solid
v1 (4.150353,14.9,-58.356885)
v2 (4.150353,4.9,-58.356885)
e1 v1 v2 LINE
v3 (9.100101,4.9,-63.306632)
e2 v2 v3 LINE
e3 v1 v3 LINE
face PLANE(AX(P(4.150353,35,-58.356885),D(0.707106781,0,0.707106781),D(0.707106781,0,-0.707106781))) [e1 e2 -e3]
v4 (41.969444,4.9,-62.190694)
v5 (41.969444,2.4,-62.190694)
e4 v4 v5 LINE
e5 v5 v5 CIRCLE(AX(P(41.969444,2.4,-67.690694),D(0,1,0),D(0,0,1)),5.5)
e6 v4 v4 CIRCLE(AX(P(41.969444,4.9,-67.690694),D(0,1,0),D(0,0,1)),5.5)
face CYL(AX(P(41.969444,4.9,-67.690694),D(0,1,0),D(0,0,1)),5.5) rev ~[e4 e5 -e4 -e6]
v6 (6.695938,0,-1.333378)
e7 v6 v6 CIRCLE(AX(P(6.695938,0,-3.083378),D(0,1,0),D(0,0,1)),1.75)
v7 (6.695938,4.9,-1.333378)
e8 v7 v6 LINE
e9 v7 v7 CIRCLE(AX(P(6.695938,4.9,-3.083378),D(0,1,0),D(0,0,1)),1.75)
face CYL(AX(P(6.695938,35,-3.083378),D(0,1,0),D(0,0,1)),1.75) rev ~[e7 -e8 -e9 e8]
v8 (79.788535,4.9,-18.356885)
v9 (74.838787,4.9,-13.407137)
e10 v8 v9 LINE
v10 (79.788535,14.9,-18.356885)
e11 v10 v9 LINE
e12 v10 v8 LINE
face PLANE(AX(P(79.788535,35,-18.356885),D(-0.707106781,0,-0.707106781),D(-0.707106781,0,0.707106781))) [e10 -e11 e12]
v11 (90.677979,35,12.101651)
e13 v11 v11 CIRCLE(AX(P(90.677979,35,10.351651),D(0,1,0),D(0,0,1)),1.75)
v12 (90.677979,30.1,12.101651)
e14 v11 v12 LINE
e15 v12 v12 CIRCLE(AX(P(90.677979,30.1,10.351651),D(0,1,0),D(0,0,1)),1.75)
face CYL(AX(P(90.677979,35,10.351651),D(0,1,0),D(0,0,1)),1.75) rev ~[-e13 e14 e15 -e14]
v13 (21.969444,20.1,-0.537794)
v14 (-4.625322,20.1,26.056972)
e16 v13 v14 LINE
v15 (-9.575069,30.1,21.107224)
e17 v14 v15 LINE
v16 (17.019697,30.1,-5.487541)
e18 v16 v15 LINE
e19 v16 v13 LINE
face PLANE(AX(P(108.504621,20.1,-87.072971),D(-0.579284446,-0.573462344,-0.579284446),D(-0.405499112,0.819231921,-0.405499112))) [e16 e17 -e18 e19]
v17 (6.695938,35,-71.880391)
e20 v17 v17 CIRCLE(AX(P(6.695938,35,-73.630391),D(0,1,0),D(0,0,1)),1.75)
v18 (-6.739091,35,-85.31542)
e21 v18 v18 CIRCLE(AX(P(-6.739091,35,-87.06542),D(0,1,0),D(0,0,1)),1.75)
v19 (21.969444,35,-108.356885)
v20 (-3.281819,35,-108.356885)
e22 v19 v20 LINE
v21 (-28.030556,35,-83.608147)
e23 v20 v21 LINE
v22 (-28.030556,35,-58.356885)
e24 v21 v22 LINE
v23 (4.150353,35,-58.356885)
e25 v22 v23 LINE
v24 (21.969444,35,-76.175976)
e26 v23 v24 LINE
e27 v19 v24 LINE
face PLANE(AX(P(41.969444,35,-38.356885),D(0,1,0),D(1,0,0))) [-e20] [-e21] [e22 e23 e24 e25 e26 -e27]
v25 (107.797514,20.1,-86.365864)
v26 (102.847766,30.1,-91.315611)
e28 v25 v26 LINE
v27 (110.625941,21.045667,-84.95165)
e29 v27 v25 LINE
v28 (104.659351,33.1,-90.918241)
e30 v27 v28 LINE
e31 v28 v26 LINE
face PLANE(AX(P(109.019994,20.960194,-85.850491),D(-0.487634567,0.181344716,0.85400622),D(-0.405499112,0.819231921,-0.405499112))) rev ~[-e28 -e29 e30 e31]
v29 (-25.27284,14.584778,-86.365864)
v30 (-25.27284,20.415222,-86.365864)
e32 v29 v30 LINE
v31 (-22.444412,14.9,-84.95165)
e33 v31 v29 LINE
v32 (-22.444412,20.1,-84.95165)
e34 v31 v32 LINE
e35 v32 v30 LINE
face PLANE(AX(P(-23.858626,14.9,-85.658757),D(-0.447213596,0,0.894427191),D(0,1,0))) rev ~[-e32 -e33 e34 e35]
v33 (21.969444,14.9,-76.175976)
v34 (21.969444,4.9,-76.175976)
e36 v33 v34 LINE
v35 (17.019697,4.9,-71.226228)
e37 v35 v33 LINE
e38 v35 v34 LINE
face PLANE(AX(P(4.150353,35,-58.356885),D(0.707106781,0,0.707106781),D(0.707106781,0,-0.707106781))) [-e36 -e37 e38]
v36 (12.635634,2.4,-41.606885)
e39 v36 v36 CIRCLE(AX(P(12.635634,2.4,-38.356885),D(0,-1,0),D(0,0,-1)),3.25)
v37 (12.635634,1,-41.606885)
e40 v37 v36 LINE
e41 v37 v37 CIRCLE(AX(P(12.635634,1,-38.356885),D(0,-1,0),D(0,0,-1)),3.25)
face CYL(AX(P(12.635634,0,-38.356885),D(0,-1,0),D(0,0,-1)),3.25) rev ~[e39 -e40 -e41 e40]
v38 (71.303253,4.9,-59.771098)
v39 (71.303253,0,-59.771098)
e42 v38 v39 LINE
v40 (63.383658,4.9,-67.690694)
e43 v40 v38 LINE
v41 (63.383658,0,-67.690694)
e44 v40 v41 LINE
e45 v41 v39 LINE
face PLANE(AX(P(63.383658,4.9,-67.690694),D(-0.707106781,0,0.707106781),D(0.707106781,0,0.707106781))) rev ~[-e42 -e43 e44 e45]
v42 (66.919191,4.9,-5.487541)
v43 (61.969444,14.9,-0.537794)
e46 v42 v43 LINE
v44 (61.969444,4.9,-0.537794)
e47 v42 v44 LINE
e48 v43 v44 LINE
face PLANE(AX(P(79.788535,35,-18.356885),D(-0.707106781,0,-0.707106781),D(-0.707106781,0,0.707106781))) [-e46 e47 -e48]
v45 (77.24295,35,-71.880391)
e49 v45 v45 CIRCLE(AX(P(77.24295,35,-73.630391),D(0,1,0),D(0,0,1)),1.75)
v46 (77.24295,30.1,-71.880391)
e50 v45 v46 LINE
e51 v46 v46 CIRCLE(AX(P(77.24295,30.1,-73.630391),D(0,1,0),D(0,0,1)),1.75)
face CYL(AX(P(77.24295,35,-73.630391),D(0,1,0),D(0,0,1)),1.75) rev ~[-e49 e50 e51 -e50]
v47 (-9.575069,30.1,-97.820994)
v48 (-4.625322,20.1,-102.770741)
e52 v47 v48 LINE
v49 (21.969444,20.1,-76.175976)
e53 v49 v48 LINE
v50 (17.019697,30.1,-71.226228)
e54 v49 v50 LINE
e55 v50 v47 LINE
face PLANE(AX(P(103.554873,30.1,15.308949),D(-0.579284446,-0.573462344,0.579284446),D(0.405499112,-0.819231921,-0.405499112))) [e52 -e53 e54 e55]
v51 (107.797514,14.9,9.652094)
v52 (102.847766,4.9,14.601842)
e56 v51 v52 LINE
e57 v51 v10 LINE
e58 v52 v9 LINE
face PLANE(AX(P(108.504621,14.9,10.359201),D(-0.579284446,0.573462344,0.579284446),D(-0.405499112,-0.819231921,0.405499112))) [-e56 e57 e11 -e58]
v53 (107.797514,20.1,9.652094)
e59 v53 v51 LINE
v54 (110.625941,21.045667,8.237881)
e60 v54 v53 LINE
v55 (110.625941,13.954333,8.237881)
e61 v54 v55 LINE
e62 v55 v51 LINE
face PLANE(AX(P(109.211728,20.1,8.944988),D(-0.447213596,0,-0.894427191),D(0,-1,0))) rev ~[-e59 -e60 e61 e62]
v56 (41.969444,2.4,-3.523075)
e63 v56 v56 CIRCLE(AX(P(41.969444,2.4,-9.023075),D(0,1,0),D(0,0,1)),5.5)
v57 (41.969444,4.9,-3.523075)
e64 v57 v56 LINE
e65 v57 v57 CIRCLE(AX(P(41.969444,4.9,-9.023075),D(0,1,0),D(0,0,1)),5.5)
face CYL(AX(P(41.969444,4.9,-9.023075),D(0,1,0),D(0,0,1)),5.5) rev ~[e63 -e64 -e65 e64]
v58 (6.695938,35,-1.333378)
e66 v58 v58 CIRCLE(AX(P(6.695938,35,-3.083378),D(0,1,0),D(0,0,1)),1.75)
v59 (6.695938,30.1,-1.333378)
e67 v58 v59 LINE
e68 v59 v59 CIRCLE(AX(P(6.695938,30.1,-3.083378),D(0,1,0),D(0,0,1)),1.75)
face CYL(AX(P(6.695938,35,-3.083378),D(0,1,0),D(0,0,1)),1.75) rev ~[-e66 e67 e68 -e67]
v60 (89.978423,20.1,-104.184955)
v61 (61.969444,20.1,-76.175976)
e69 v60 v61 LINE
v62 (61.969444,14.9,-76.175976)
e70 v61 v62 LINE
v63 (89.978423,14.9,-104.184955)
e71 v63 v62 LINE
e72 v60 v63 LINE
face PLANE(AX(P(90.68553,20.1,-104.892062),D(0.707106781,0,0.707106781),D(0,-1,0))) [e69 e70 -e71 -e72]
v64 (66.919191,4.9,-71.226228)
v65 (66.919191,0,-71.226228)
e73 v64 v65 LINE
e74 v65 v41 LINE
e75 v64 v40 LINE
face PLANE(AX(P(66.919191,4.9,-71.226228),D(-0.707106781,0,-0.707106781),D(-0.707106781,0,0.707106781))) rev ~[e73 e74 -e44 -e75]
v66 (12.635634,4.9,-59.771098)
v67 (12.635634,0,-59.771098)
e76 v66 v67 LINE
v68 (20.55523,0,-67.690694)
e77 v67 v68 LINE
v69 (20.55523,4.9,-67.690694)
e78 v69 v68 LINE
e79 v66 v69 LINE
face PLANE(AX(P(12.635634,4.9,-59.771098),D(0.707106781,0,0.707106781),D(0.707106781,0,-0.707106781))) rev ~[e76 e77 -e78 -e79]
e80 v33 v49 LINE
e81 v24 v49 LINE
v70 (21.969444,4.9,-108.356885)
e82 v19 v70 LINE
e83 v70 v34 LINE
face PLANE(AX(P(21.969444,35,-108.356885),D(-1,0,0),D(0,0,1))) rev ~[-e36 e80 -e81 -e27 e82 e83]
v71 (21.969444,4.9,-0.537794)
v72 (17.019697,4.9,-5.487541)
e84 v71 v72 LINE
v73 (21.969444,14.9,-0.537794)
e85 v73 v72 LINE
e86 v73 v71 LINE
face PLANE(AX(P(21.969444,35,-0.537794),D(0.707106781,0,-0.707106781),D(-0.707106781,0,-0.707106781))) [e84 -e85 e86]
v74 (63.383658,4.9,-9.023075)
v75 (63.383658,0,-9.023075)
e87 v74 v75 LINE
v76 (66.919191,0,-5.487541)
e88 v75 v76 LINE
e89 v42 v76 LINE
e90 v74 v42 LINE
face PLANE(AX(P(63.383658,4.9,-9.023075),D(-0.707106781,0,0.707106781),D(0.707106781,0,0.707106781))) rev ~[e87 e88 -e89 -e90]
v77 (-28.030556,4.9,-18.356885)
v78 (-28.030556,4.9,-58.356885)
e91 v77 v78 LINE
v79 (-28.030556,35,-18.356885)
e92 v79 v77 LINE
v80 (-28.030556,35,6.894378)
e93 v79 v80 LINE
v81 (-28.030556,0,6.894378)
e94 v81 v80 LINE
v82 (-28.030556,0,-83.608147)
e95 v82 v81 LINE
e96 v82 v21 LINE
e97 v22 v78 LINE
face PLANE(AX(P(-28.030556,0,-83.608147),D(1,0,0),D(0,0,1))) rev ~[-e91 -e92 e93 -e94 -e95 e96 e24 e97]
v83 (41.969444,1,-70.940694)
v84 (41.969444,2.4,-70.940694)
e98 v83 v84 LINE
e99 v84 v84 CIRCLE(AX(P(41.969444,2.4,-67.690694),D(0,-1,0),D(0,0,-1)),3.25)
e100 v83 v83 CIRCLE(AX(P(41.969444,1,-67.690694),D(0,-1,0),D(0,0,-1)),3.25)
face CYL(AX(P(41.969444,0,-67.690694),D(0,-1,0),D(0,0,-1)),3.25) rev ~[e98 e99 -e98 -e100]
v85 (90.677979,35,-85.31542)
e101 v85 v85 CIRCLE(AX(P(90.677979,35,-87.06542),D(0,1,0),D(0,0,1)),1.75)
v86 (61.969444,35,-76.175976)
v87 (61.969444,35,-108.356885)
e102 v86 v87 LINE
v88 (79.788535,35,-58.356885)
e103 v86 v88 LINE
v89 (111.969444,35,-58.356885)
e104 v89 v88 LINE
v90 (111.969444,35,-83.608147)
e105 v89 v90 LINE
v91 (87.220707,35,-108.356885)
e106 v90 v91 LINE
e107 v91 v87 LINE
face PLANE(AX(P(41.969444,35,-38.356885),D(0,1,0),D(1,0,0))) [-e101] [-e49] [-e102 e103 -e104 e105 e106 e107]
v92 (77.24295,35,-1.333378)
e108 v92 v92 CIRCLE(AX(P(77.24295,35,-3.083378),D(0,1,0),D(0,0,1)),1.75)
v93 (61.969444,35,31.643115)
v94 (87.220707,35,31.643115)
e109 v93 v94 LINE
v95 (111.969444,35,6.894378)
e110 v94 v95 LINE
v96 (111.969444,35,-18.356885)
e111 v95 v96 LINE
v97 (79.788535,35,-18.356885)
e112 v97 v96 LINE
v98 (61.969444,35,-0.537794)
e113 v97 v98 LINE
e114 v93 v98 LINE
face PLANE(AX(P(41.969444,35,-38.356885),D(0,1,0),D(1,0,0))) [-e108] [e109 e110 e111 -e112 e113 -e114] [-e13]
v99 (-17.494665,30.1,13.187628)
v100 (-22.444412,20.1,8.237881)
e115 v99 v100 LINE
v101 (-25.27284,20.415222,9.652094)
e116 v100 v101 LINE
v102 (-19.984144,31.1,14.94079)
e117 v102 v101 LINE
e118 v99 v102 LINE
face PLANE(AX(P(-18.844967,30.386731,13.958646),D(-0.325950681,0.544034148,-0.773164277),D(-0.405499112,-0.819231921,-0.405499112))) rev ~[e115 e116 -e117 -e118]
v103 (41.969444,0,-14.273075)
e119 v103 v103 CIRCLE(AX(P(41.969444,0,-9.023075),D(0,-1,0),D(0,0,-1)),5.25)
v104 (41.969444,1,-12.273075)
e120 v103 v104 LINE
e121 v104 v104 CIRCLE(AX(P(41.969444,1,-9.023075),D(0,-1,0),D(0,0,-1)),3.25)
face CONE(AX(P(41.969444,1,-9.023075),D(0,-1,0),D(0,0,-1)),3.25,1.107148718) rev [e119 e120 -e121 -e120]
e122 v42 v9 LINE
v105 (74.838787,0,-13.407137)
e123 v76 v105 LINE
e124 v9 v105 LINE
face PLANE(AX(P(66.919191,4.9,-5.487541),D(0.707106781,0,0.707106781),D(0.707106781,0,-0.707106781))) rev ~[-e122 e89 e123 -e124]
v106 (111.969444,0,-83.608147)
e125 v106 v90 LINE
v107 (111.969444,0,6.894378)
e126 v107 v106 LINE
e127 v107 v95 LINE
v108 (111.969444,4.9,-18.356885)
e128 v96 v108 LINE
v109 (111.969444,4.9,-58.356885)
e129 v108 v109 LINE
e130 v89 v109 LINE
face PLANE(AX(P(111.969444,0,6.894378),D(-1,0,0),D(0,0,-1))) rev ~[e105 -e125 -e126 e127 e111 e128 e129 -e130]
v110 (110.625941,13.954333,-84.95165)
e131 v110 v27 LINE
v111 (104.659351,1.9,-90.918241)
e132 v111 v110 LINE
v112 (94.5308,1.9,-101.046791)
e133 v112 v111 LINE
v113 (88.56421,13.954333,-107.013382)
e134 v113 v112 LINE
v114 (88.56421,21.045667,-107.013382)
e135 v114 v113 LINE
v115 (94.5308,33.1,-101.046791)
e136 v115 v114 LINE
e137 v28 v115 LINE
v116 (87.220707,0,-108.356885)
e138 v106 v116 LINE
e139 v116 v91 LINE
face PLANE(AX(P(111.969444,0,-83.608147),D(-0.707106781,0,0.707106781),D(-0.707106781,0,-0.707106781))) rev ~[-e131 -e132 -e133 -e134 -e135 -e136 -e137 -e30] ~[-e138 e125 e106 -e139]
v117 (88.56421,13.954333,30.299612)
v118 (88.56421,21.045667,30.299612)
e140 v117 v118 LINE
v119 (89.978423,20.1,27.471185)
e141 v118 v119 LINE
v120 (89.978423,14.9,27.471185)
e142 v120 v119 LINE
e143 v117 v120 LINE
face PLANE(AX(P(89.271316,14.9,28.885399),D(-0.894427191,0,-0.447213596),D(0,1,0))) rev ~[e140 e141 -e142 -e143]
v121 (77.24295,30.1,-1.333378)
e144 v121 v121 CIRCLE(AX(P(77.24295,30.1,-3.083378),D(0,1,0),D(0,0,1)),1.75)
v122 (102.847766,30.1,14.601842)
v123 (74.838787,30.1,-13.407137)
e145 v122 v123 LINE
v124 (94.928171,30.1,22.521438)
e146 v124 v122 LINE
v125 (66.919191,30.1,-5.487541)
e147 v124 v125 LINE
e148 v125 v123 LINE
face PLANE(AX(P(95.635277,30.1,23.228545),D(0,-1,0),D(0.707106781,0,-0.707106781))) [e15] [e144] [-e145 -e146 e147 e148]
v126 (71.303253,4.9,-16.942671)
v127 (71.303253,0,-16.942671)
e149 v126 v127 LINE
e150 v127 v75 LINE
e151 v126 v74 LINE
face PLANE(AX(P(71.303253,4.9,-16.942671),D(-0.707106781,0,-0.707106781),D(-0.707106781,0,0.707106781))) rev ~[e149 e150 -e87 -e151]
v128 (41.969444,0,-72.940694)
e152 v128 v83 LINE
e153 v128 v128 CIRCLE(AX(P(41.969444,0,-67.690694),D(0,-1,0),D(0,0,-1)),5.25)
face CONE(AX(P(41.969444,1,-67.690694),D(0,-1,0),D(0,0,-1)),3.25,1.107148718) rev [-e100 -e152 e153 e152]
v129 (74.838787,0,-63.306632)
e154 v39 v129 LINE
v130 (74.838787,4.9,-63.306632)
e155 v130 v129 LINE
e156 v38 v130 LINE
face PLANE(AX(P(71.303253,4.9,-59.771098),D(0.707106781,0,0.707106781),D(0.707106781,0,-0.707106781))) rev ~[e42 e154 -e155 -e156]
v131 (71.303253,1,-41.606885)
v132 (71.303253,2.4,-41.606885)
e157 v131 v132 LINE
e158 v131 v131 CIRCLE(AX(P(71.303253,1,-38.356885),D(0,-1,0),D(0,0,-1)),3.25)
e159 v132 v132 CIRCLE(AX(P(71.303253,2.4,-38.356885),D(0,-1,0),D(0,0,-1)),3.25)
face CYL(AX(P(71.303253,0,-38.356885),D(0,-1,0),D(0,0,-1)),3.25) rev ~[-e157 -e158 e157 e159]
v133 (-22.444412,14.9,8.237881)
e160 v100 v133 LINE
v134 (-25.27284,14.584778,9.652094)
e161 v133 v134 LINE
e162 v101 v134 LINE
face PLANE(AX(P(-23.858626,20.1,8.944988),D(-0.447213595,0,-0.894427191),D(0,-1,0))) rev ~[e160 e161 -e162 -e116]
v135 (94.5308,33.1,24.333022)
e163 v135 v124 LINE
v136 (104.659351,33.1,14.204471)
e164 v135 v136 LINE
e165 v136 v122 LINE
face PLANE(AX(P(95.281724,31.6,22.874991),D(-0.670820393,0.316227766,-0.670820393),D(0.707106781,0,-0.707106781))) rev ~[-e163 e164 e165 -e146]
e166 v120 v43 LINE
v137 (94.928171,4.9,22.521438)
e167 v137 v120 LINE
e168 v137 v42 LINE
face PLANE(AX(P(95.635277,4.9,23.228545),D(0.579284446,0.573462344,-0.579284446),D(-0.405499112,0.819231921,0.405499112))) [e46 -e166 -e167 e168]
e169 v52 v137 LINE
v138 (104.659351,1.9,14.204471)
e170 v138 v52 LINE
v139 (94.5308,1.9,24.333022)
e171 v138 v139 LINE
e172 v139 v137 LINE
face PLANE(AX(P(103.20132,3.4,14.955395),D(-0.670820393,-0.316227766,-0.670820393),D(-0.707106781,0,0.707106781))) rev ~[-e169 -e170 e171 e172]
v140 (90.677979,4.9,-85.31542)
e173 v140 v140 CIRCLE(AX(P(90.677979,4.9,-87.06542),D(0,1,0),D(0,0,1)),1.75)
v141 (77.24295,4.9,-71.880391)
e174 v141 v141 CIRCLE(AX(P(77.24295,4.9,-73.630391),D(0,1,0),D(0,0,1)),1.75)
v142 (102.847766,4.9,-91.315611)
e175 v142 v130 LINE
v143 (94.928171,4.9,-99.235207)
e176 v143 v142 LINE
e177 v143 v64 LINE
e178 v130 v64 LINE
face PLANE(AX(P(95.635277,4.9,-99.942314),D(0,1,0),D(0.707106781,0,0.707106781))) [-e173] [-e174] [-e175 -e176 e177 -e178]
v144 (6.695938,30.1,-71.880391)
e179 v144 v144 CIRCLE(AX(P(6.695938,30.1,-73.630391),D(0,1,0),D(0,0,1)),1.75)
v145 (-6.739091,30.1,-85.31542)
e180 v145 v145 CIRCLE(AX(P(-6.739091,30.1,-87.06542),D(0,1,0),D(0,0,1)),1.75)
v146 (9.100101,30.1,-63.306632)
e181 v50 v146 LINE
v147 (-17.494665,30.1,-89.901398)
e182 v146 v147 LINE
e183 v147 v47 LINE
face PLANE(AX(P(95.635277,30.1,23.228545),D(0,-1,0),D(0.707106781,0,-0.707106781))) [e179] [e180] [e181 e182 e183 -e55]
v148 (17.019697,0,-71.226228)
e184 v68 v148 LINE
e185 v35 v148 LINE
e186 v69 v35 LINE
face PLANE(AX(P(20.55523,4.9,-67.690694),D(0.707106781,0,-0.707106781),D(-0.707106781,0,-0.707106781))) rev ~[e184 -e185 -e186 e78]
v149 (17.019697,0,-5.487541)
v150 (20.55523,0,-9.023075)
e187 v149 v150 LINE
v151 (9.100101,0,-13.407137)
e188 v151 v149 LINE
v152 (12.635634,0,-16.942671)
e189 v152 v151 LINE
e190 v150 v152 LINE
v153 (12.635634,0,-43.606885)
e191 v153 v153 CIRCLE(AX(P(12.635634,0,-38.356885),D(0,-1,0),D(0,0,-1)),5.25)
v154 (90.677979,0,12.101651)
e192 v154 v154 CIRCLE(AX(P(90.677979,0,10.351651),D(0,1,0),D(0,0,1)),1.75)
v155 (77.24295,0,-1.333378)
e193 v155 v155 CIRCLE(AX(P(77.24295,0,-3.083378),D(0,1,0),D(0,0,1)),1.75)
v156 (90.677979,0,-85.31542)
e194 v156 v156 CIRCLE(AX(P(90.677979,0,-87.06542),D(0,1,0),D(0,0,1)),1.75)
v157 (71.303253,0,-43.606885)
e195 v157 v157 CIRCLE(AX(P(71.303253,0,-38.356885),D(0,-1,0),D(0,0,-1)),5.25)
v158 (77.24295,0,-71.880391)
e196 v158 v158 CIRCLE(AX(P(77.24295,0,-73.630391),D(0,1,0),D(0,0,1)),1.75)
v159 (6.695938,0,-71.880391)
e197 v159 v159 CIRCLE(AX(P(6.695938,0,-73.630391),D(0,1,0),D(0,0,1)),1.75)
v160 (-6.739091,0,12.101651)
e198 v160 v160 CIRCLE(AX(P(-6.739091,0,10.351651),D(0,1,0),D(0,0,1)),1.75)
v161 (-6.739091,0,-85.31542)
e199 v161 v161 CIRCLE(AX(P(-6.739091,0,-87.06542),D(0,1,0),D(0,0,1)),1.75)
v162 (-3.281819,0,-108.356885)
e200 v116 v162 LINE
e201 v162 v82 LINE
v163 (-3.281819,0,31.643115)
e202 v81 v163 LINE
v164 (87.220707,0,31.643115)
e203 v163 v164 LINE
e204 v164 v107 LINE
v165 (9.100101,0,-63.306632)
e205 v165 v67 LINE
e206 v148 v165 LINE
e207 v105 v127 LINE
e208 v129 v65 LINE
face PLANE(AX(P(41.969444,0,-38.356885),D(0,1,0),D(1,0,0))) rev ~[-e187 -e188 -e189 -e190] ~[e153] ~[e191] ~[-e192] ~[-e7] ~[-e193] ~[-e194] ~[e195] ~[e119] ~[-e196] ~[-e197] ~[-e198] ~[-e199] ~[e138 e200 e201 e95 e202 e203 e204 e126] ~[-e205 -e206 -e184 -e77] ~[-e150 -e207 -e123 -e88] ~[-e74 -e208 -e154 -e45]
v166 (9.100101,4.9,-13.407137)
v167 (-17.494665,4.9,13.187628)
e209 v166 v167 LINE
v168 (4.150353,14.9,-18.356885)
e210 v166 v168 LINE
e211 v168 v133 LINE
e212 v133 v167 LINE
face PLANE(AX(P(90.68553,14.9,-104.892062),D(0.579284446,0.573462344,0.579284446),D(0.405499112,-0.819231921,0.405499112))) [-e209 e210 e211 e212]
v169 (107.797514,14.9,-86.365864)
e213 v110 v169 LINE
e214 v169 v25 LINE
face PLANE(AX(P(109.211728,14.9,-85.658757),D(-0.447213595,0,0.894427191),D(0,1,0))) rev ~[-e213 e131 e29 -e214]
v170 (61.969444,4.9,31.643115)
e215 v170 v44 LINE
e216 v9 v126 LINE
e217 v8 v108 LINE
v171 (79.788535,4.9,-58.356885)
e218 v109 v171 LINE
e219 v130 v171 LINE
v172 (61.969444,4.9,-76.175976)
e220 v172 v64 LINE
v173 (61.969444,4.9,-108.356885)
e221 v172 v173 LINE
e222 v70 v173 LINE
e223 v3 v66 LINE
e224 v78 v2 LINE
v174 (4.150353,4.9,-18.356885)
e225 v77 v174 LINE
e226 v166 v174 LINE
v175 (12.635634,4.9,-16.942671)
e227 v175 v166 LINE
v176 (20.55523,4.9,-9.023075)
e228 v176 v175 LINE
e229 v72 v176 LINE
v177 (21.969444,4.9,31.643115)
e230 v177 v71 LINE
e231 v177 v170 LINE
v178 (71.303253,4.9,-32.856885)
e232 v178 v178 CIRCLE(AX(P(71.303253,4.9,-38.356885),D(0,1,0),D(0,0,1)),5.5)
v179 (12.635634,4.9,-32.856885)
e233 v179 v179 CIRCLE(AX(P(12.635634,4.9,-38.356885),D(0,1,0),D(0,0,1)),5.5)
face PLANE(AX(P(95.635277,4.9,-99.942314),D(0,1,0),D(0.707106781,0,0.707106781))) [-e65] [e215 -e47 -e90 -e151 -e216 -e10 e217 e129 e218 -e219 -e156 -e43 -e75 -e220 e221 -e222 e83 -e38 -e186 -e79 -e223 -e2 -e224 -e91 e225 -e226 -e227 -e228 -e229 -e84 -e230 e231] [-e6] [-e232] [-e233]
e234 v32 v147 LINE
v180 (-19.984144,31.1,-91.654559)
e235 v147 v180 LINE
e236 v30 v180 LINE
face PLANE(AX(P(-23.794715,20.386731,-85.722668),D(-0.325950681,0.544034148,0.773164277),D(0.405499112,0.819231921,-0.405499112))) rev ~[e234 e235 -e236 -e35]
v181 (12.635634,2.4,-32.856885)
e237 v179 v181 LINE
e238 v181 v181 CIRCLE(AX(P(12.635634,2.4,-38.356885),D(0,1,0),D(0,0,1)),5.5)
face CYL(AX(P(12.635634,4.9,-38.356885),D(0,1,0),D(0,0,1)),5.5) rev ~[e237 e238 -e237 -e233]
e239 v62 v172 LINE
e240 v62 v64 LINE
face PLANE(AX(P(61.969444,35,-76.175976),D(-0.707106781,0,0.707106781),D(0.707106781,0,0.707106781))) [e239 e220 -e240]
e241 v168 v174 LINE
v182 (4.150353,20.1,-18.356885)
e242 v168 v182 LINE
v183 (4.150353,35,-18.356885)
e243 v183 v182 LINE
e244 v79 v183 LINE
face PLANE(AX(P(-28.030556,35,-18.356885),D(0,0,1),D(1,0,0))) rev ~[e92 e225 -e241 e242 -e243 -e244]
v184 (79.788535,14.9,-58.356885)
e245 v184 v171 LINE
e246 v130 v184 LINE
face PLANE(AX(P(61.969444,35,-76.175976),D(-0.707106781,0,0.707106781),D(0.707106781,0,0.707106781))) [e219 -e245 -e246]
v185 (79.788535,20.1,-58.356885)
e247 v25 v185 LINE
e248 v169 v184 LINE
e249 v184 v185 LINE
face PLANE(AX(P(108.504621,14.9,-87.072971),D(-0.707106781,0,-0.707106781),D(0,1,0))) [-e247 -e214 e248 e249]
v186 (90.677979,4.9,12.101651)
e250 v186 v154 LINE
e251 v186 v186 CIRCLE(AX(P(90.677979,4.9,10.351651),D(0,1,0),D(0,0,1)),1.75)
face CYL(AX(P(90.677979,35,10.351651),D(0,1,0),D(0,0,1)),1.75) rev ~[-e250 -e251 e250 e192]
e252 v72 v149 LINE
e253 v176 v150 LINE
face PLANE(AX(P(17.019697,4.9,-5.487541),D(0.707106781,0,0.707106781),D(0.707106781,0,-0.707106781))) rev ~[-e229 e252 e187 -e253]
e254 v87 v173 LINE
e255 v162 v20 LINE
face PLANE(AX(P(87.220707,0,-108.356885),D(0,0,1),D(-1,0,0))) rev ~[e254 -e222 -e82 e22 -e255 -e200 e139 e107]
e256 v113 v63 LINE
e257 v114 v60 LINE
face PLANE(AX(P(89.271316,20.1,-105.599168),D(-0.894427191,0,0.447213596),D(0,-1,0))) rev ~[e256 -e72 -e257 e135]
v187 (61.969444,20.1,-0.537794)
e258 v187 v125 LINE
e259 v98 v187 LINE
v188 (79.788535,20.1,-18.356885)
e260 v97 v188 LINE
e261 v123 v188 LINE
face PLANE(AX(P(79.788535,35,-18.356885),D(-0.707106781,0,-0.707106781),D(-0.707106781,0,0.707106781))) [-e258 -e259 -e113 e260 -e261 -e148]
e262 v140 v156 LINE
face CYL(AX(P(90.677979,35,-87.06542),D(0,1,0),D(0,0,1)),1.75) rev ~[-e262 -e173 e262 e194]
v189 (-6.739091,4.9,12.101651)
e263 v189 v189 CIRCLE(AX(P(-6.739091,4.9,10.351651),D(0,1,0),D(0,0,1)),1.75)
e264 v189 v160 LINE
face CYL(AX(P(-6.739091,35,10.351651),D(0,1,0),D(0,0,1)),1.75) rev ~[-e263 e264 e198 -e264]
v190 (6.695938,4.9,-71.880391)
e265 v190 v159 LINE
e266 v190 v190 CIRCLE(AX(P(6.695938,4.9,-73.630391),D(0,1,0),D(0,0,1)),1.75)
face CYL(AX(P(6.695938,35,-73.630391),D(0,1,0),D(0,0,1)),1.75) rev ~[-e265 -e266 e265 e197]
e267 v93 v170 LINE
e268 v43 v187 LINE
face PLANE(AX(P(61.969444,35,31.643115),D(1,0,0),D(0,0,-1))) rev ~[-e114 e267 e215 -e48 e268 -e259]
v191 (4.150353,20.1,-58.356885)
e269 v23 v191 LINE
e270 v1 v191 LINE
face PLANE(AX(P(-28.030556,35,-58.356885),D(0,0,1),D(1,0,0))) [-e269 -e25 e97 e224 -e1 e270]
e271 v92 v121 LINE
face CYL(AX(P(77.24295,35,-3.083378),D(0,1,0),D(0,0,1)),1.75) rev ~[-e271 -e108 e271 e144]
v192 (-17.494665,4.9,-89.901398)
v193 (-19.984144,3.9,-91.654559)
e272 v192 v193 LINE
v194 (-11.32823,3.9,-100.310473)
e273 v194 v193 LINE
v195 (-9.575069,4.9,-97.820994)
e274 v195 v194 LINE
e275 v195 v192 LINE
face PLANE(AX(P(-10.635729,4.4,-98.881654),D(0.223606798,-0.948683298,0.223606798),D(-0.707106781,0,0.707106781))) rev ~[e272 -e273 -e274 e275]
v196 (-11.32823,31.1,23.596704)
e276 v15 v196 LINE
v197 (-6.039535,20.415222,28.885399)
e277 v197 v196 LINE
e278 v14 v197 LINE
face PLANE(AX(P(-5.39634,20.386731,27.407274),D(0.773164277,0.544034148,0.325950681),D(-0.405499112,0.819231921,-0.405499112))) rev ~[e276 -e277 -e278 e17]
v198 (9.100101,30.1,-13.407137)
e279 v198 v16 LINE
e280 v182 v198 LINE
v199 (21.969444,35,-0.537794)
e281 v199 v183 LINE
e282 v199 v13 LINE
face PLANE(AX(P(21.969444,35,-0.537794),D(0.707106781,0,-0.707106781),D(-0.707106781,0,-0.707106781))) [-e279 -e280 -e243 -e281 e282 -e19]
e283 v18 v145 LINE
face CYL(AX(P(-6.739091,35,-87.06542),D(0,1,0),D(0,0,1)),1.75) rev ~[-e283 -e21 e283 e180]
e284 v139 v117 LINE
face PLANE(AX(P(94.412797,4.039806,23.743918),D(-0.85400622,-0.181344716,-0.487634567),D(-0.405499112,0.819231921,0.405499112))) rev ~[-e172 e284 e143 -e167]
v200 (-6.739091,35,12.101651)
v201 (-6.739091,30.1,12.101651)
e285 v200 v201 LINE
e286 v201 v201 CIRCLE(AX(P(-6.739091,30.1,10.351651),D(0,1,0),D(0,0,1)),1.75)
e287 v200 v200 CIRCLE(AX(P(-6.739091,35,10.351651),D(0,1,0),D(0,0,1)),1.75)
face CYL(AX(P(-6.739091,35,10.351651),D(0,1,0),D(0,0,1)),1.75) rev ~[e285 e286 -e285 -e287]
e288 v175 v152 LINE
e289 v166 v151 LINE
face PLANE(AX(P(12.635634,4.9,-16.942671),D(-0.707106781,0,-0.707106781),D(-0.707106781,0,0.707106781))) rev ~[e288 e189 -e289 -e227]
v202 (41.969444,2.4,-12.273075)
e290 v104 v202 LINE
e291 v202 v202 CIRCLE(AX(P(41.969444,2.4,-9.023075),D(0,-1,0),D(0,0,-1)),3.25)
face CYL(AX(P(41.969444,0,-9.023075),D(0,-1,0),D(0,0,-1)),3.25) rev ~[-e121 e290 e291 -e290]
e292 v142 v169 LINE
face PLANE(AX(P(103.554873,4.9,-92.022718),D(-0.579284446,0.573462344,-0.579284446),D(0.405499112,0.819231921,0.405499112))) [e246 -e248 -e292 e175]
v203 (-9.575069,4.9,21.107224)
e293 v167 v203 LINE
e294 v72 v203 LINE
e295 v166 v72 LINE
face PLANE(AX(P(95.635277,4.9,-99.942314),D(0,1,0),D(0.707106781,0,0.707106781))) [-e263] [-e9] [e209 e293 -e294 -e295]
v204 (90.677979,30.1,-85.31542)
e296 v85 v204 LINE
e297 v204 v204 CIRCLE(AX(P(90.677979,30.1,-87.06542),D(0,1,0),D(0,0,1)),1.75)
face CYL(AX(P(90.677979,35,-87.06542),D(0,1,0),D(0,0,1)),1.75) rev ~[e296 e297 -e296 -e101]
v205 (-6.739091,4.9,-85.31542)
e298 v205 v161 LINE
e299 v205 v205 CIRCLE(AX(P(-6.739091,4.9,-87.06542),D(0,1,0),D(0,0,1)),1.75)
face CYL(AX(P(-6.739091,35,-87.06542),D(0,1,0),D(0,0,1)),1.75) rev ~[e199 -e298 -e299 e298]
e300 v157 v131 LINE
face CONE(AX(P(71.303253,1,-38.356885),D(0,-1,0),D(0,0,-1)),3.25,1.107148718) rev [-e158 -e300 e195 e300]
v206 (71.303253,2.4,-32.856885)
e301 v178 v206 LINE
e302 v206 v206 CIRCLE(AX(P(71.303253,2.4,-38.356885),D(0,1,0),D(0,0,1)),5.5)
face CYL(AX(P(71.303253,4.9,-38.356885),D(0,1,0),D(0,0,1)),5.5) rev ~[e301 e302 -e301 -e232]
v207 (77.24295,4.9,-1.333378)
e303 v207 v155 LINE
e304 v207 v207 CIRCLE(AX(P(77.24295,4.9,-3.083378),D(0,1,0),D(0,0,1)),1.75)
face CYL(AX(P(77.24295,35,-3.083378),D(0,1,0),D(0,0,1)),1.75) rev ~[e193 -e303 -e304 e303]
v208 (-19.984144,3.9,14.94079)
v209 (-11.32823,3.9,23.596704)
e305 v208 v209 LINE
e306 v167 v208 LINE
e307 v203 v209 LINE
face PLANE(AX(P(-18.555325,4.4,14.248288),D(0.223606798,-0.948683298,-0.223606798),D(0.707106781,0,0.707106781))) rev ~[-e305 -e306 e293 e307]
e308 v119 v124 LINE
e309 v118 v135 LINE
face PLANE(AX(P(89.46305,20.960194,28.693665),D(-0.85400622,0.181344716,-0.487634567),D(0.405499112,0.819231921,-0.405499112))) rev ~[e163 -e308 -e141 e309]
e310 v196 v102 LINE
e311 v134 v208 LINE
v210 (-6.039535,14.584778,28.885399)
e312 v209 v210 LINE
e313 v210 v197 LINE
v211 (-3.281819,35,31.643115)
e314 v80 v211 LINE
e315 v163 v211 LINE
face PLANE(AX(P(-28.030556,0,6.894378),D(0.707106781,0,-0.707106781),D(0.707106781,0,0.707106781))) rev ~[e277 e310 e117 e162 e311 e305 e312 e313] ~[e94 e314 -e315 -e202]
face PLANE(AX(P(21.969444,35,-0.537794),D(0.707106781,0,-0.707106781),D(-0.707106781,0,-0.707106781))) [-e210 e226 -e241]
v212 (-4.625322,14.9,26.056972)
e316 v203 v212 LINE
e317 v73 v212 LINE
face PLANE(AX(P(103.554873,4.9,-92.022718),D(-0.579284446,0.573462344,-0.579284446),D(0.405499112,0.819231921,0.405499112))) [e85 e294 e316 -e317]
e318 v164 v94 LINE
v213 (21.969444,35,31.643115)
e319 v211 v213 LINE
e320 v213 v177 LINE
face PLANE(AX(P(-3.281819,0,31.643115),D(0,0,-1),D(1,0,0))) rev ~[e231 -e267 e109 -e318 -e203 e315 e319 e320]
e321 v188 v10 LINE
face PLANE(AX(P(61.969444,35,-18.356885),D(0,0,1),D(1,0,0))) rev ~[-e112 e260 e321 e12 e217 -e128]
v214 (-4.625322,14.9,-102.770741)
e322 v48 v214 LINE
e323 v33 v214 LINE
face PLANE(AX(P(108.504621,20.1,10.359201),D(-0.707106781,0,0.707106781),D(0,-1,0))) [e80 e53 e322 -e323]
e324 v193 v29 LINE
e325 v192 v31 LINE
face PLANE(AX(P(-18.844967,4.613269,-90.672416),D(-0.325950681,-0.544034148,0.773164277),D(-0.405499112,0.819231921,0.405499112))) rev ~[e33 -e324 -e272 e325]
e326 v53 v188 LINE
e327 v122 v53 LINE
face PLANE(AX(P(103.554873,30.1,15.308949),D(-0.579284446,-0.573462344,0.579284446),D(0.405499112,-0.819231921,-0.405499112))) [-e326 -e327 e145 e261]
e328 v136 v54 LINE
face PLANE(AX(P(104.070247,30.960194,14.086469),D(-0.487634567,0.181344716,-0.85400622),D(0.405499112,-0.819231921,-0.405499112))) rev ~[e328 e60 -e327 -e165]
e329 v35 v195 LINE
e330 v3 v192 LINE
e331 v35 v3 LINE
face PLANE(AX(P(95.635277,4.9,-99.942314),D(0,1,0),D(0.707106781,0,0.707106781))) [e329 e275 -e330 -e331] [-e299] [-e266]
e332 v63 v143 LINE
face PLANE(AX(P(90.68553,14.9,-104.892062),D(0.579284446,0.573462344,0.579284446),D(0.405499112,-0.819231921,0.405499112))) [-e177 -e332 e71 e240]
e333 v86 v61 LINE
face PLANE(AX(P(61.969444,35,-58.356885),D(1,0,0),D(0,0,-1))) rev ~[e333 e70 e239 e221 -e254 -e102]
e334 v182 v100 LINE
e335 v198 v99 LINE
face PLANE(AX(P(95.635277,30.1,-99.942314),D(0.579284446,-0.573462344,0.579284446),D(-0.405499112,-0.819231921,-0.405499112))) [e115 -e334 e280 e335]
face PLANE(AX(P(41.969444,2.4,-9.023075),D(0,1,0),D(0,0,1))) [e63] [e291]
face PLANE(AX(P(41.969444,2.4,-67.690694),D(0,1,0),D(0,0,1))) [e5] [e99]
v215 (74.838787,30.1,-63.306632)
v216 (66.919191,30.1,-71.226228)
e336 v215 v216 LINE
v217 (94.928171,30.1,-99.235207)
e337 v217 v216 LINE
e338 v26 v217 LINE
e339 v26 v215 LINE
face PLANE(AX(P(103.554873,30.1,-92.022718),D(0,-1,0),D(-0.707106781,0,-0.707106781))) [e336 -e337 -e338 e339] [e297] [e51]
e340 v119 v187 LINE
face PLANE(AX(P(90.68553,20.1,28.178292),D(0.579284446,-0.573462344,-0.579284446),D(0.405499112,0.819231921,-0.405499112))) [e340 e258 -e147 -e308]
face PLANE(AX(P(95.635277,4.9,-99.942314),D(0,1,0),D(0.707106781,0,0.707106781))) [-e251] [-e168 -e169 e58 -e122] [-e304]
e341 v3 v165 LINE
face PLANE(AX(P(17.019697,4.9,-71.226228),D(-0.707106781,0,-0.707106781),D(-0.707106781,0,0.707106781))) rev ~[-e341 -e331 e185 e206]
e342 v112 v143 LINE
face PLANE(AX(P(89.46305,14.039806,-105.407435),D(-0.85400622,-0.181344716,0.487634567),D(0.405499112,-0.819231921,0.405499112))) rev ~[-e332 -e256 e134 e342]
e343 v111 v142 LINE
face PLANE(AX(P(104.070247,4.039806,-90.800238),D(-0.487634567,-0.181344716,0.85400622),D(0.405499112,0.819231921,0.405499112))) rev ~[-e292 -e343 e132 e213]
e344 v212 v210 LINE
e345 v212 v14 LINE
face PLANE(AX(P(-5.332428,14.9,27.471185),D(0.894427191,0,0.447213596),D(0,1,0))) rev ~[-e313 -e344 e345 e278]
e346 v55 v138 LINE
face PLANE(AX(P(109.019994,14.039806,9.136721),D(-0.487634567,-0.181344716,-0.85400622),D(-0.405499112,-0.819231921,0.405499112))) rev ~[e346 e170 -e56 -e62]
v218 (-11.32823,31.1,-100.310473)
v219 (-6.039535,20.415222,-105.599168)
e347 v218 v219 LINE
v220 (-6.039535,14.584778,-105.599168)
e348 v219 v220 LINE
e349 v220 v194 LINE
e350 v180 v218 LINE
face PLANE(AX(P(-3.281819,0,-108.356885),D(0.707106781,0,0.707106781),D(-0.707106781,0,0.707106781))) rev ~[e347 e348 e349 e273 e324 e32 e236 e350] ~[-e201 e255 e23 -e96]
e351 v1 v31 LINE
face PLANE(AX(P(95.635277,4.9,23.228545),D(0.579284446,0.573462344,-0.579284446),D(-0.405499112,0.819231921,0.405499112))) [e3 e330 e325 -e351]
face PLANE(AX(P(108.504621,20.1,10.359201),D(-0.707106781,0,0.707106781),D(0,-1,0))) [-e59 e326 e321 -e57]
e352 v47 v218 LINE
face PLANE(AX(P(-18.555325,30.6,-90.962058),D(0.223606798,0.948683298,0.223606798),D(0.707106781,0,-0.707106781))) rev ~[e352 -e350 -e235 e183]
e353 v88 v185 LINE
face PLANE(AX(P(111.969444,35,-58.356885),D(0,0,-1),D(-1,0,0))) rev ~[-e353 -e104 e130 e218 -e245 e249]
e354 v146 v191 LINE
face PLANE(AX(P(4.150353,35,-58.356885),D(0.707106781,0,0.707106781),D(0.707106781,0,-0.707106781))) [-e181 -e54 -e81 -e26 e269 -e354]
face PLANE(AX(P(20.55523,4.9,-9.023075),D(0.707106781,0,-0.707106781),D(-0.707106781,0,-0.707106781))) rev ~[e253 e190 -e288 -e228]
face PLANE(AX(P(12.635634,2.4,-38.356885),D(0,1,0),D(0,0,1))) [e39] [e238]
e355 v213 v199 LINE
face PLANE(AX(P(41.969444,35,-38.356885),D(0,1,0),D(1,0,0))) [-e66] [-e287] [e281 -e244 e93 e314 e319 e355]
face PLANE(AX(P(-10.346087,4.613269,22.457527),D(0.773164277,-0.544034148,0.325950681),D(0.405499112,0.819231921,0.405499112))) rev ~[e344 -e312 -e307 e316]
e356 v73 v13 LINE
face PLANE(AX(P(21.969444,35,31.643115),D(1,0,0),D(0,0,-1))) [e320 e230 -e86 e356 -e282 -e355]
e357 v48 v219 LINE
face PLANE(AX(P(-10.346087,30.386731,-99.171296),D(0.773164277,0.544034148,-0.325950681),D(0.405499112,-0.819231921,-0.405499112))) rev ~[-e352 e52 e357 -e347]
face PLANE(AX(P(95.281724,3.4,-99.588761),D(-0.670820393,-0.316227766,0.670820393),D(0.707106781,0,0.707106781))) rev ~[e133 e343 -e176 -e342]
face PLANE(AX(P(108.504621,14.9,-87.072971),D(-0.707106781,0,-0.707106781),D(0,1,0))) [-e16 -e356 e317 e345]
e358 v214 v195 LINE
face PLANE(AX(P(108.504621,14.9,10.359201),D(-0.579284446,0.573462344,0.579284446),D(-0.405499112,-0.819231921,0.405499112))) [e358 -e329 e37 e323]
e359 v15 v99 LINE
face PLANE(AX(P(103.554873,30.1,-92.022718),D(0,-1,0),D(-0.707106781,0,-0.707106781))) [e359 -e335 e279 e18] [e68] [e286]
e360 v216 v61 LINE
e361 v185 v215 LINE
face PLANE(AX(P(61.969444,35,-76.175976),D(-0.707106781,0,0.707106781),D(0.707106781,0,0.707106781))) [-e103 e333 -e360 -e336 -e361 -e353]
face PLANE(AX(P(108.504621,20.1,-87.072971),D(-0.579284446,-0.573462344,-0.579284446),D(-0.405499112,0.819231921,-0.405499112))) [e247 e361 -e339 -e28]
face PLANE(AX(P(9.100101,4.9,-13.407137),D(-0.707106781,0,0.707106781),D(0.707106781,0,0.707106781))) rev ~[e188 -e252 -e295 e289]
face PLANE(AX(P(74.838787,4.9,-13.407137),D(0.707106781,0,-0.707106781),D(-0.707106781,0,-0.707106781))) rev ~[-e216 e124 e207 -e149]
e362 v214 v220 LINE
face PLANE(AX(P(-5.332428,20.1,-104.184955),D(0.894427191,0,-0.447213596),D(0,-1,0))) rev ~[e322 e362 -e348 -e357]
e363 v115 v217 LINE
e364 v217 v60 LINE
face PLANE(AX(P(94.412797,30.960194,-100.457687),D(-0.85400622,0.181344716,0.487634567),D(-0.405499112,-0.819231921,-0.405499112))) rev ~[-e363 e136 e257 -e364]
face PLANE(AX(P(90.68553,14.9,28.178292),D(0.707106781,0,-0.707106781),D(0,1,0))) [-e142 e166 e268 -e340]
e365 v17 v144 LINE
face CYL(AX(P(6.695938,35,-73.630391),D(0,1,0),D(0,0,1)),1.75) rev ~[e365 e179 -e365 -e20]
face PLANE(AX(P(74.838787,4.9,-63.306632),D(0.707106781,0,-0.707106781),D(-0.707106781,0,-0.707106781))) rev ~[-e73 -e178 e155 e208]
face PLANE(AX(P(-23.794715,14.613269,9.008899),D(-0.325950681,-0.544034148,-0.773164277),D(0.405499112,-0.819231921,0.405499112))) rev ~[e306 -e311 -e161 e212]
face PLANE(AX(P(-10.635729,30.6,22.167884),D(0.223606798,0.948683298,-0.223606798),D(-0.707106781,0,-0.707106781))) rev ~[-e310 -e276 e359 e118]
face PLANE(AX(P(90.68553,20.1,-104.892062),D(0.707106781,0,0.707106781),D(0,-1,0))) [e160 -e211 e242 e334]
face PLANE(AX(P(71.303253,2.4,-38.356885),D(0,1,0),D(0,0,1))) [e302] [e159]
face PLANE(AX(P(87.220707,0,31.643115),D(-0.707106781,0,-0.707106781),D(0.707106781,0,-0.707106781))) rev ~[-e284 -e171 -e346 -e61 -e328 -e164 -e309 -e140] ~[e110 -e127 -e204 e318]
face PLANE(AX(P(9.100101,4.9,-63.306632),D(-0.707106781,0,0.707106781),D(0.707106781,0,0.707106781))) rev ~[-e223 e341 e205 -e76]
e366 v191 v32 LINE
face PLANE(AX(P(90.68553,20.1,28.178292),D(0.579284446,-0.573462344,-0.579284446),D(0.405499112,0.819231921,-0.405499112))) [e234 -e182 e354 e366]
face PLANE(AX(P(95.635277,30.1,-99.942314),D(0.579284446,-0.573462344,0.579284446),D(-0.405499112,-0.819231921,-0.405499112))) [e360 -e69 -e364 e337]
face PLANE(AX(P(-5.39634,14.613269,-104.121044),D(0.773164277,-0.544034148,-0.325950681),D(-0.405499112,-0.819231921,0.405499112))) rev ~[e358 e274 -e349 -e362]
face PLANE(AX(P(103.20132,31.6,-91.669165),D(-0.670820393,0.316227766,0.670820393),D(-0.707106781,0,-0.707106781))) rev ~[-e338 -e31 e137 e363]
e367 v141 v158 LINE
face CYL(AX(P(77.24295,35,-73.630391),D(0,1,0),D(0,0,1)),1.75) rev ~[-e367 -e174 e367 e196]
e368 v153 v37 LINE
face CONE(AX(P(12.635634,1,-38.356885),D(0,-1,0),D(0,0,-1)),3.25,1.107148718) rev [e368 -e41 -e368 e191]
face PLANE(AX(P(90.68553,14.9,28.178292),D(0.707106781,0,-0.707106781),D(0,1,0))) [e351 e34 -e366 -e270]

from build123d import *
from OCP.BRepFilletAPI import BRepFilletAPI_MakeChamfer

# Parameters (mm, degrees)
ESTRUSIONE_ESTRUSIONE2_DEPTH = 35
SCHIZZO2_W                   = 50
SCHIZZO2_H                   = 40
SCHIZZO2_W_2                 = 40
SCHIZZO2_H_2                 = 50
TAGLIO_ESTRUSIONE1_DEPTH     = 30.1
TAGLIO_ESTRUSIONE2_DEPTH     = 193.425993797
TAGLIO_ESTRUSIONE3_DEPTH     = 184.8698693
TAGLIO_ESTRUSIONE4_DEPTH     = 30.1
SMUSSO1_SIZE                 = 3
SMUSSO1_SIZE2                = 1
TAGLIO_ESTRUSIONE5_DEPTH     = 159.695875371
SCHIZZO9_R                   = 1.75
TAGLIO_ESTRUSIONE6_DEPTH     = 160.697748449
TAGLIO_ESTRUSIONE7_REACH     = 161.698
SCHIZZO10_R                  = 3.25
SMUSSO2_SIZE                 = 2
SMUSSO2_SIZE2                = 1
SCHIZZO11_R                  = 5.5
TAGLIO_ESTRUSIONE8_DEPTH     = 2.5


with BuildPart() as part:
    # Schizzo1 → Estrusione-Estrusione2 (new body)
    with BuildSketch(Plane(origin=(0, 0, 0), x_dir=(1, 0, 0), z_dir=(0, 1, 0))):
        Polygon((-28.030556024, -6.894377895), (-3.281818683, -31.643115237), (87.220706634, -31.643115237), (111.969443976, -6.894377895), (111.969443976, 83.608147422), (87.220706634, 108.356884763), (-3.281818683, 108.356884763), (-28.030556024, 83.608147422), align=None)
    extrude(amount=ESTRUSIONE_ESTRUSIONE2_DEPTH)

    # Schizzo2 → Taglio-Estrusione1 (cut)
    with BuildSketch(Plane(origin=(0, 35, 0), x_dir=(1, 0, 0), z_dir=(0, 1, 0))):
        with Locations((86.969443976, 38.356884763)):
            Rectangle(SCHIZZO2_W, SCHIZZO2_H)
        with Locations((41.969443976, 38.356884763)):
            Rectangle(SCHIZZO2_W_2, SCHIZZO2_H)
        with Locations((41.969443976, 83.356884763)):
            Rectangle(SCHIZZO2_W_2, SCHIZZO2_H_2)
        with Locations((-3.030556024, 38.356884763)):
            Rectangle(SCHIZZO2_W, SCHIZZO2_H)
        with Locations((41.969443976, -6.643115237)):
            Rectangle(SCHIZZO2_W_2, SCHIZZO2_H_2)
    extrude(amount=-TAGLIO_ESTRUSIONE1_DEPTH, mode=Mode.SUBTRACT)

    # Schizzo3 → Taglio-Estrusione2 (cut, through all)
    with BuildSketch(Plane(origin=(59.431910936, 0, 59.431910936), x_dir=(0.7071067811865498, 0, -0.7071067811865452), z_dir=(0.7071067811865452, 0, 0.7071067811865498))):
        Polygon((51.199291759, 30.1), (62.399291759, 30.1), (69.399291759, 20.1), (69.399291759, 14.9), (62.399291759, 4.9), (51.199291759, 4.9), (44.199291759, 14.9), (44.199291759, 20.1), align=None)
    extrude(amount=-TAGLIO_ESTRUSIONE2_DEPTH, mode=Mode.SUBTRACT)

    # Schizzo4 → Taglio-Estrusione3 (cut, through all)
    with BuildSketch(Plane(origin=(97.788795699, 0, -97.788795699), x_dir=(-0.7071067811865509, 0, -0.7071067811865441), z_dir=(0.7071067811865441, 0, -0.7071067811865509))):
        Polygon((-8.154465117, 30.1), (3.045534883, 30.1), (10.045534883, 20.1), (10.045534883, 14.9), (3.045534883, 4.9), (-8.154465117, 4.9), (-15.154465117, 14.9), (-15.154465117, 20.1), align=None)
    extrude(amount=-TAGLIO_ESTRUSIONE3_DEPTH, mode=Mode.SUBTRACT)

    # Schizzo6 → Taglio-Estrusione4 (cut)
    with BuildSketch(Plane(origin=(0, 35, 0), x_dir=(1, 0, 0), z_dir=(0, 1, 0))):
        Polygon((21.969443976, 0.537793877), (4.15035309, 18.356884763), (21.969443976, 18.356884763), align=None)
        Polygon((4.15035309, 58.356884763), (21.969443976, 76.175975649), (21.969443976, 58.356884763), align=None)
        Polygon((61.969443976, 76.175975649), (79.788534862, 58.356884763), (61.969443976, 58.356884763), align=None)
        Polygon((79.788534862, 18.356884763), (61.969443976, 0.537793877), (61.969443976, 18.356884763), align=None)
    extrude(amount=-TAGLIO_ESTRUSIONE4_DEPTH, mode=Mode.SUBTRACT)

    # Smusso1: one chamfer whose edges measure the first distance from different faces: ONE call of the kernel's chamfer builder (chamfer() names one face for all edges)
    smusso1_edges_1 = [part.edges().sort_by_distance(p)[0] for p in [
        (-9.221515645, 25.1, 25.703418275),
    ]]
    smusso1_side_1 = [part.faces().sort_by_distance(p)[0] for p in [
        (5.136527298, 25.1, 11.345375332),
    ]]
    smusso1_edges_2 = [part.edges().sort_by_distance(p)[0] for p in [
        (-6.746641911, 17.5, 28.178292009),
    ]]
    smusso1_side_2 = [part.faces().sort_by_distance(p)[0] for p in [
        (7.611401033, 17.5, 13.820249066),
    ]]
    smusso1_edges_3 = [part.edges().sort_by_distance(p)[0] for p in [
        (-15.656187354, 30.1, 19.268746566),
    ]]
    smusso1_side_3 = [part.faces().sort_by_distance(p)[0] for p in [
        (-1.29814441, 30.1, 4.910703623),
    ]]
    smusso1_edges_4 = [part.edges().sort_by_distance(p)[0] for p in [
        (-22.090859062, 25.1, 12.834074857),
    ]]
    smusso1_side_4 = [part.faces().sort_by_distance(p)[0] for p in [
        (-7.732816119, 25.1, -1.523968086),
    ]]
    smusso1_edges_5 = [part.edges().sort_by_distance(p)[0] for p in [
        (-24.565732796, 17.5, 10.359201123),
    ]]
    smusso1_side_5 = [part.faces().sort_by_distance(p)[0] for p in [
        (-10.207689853, 17.5, -3.99884182),
    ]]
    smusso1_edges_6 = [part.edges().sort_by_distance(p)[0] for p in [
        (-15.656187354, 4.9, 19.268746566),
        (-15.656187354, 4.9, -95.982516092),
    ]]
    smusso1_side_6 = [part.faces().sort_by_distance(p)[0] for p in [
        (41.969443976, 4.9, -38.356884763),
    ]]
    smusso1_edges_7 = [part.edges().sort_by_distance(p)[0] for p in [
        (-22.090859062, 9.9, 12.834074857),
    ]]
    smusso1_side_7 = [part.faces().sort_by_distance(p)[0] for p in [
        (-7.732816119, 9.9, -1.523968086),
    ]]
    smusso1_edges_8 = [part.edges().sort_by_distance(p)[0] for p in [
        (-9.221515645, 9.9, 25.703418275),
    ]]
    smusso1_side_8 = [part.faces().sort_by_distance(p)[0] for p in [
        (5.136527298, 9.9, 11.345375332),
    ]]
    smusso1_edges_9 = [part.edges().sort_by_distance(p)[0] for p in [
        (106.029747014, 25.1, -89.547844384),
        (108.504620748, 17.5, -87.072970649),
        (106.029747014, 9.9, -89.547844384),
        (99.595075305, 4.9, -95.982516092),
        (93.160403596, 9.9, -102.417187801),
        (90.685529862, 17.5, -104.892061535),
        (93.160403596, 25.1, -102.417187801),
        (99.595075305, 30.1, -95.982516092),
    ]]
    smusso1_side_9 = [part.faces().sort_by_distance(p)[0] for p in [
        (111.619443976, 17.5, -83.958147422),
    ]]
    smusso1_edges_10 = [part.edges().sort_by_distance(p)[0] for p in [
        (-22.090859062, 25.1, -89.547844384),
    ]]
    smusso1_side_10 = [part.faces().sort_by_distance(p)[0] for p in [
        (-7.732816119, 25.1, -75.18980144),
    ]]
    smusso1_edges_11 = [part.edges().sort_by_distance(p)[0] for p in [
        (-24.565732796, 17.5, -87.072970649),
    ]]
    smusso1_side_11 = [part.faces().sort_by_distance(p)[0] for p in [
        (-10.207689853, 17.5, -72.714927706),
    ]]
    smusso1_edges_12 = [part.edges().sort_by_distance(p)[0] for p in [
        (-15.656187354, 30.1, -95.982516092),
    ]]
    smusso1_side_12 = [part.faces().sort_by_distance(p)[0] for p in [
        (-1.29814441, 30.1, -81.624473149),
    ]]
    smusso1_edges_13 = [part.edges().sort_by_distance(p)[0] for p in [
        (-9.221515645, 25.1, -102.417187801),
    ]]
    smusso1_side_13 = [part.faces().sort_by_distance(p)[0] for p in [
        (5.136527298, 25.1, -88.059144858),
    ]]
    smusso1_edges_14 = [part.edges().sort_by_distance(p)[0] for p in [
        (-6.746641911, 17.5, -104.892061535),
    ]]
    smusso1_side_14 = [part.faces().sort_by_distance(p)[0] for p in [
        (7.611401033, 17.5, -90.534018592),
    ]]
    smusso1_edges_15 = [part.edges().sort_by_distance(p)[0] for p in [
        (-9.221515645, 9.9, -102.417187801),
    ]]
    smusso1_side_15 = [part.faces().sort_by_distance(p)[0] for p in [
        (5.136527298, 9.9, -88.059144858),
    ]]
    smusso1_edges_16 = [part.edges().sort_by_distance(p)[0] for p in [
        (-22.090859062, 9.9, -89.547844384),
    ]]
    smusso1_side_16 = [part.faces().sort_by_distance(p)[0] for p in [
        (-7.732816119, 9.9, -75.18980144),
    ]]
    smusso1_edges_17 = [part.edges().sort_by_distance(p)[0] for p in [
        (93.160403596, 25.1, 25.703418275),
        (90.685529862, 17.5, 28.178292009),
        (93.160403596, 9.9, 25.703418275),
        (99.595075305, 4.9, 19.268746566),
        (106.029747014, 9.9, 12.834074857),
        (108.504620748, 17.5, 10.359201123),
        (106.029747014, 25.1, 12.834074857),
        (99.595075305, 30.1, 19.268746566),
    ]]
    smusso1_side_17 = [part.faces().sort_by_distance(p)[0] for p in [
        (87.570706634, 17.5, 31.293115237),
    ]]
    smusso1 = BRepFilletAPI_MakeChamfer(part.part.solid().wrapped)
    for e in smusso1_edges_1:
        smusso1.Add(SMUSSO1_SIZE, SMUSSO1_SIZE2, e.wrapped, smusso1_side_1[0].wrapped)  # the first distance lies on this face
    for e in smusso1_edges_2:
        smusso1.Add(SMUSSO1_SIZE, SMUSSO1_SIZE2, e.wrapped, smusso1_side_2[0].wrapped)  # the first distance lies on this face
    for e in smusso1_edges_3:
        smusso1.Add(SMUSSO1_SIZE, SMUSSO1_SIZE2, e.wrapped, smusso1_side_3[0].wrapped)  # the first distance lies on this face
    for e in smusso1_edges_4:
        smusso1.Add(SMUSSO1_SIZE, SMUSSO1_SIZE2, e.wrapped, smusso1_side_4[0].wrapped)  # the first distance lies on this face
    for e in smusso1_edges_5:
        smusso1.Add(SMUSSO1_SIZE, SMUSSO1_SIZE2, e.wrapped, smusso1_side_5[0].wrapped)  # the first distance lies on this face
    for e in smusso1_edges_6:
        smusso1.Add(SMUSSO1_SIZE, SMUSSO1_SIZE2, e.wrapped, smusso1_side_6[0].wrapped)  # the first distance lies on this face
    for e in smusso1_edges_7:
        smusso1.Add(SMUSSO1_SIZE, SMUSSO1_SIZE2, e.wrapped, smusso1_side_7[0].wrapped)  # the first distance lies on this face
    for e in smusso1_edges_8:
        smusso1.Add(SMUSSO1_SIZE, SMUSSO1_SIZE2, e.wrapped, smusso1_side_8[0].wrapped)  # the first distance lies on this face
    for e in smusso1_edges_9:
        smusso1.Add(SMUSSO1_SIZE, SMUSSO1_SIZE2, e.wrapped, smusso1_side_9[0].wrapped)  # the first distance lies on this face
    for e in smusso1_edges_10:
        smusso1.Add(SMUSSO1_SIZE, SMUSSO1_SIZE2, e.wrapped, smusso1_side_10[0].wrapped)  # the first distance lies on this face
    for e in smusso1_edges_11:
        smusso1.Add(SMUSSO1_SIZE, SMUSSO1_SIZE2, e.wrapped, smusso1_side_11[0].wrapped)  # the first distance lies on this face
    for e in smusso1_edges_12:
        smusso1.Add(SMUSSO1_SIZE, SMUSSO1_SIZE2, e.wrapped, smusso1_side_12[0].wrapped)  # the first distance lies on this face
    for e in smusso1_edges_13:
        smusso1.Add(SMUSSO1_SIZE, SMUSSO1_SIZE2, e.wrapped, smusso1_side_13[0].wrapped)  # the first distance lies on this face
    for e in smusso1_edges_14:
        smusso1.Add(SMUSSO1_SIZE, SMUSSO1_SIZE2, e.wrapped, smusso1_side_14[0].wrapped)  # the first distance lies on this face
    for e in smusso1_edges_15:
        smusso1.Add(SMUSSO1_SIZE, SMUSSO1_SIZE2, e.wrapped, smusso1_side_15[0].wrapped)  # the first distance lies on this face
    for e in smusso1_edges_16:
        smusso1.Add(SMUSSO1_SIZE, SMUSSO1_SIZE2, e.wrapped, smusso1_side_16[0].wrapped)  # the first distance lies on this face
    for e in smusso1_edges_17:
        smusso1.Add(SMUSSO1_SIZE, SMUSSO1_SIZE2, e.wrapped, smusso1_side_17[0].wrapped)  # the first distance lies on this face
    add(Compound.cast(smusso1.Shape()), mode=Mode.REPLACE)

    # Schizzo7 → Taglio-Estrusione5 (cut, through all)
    with BuildSketch(Plane(origin=(0, 4.9, 0), x_dir=(1, 0, 0), z_dir=(0, 1, 0))):
        Polygon((9.100100558, 13.407137295), (17.019696507, 5.487541346), (20.555230413, 9.023075251), (12.635634464, 16.942671201), align=None)
        Polygon((17.019696507, 71.226228181), (9.100100558, 63.306632231), (12.635634464, 59.771098326), (20.555230413, 67.690694275), align=None)
        Polygon((74.838787393, 63.306632231), (66.919191444, 71.226228181), (63.383657538, 67.690694275), (71.303253487, 59.771098326), align=None)
        Polygon((66.919191444, 5.487541346), (74.838787393, 13.407137295), (71.303253487, 16.942671201), (63.383657538, 9.023075251), align=None)
    extrude(amount=-TAGLIO_ESTRUSIONE5_DEPTH, mode=Mode.SUBTRACT)

    # Schizzo9 → Taglio-Estrusione6 (cut, through all)
    with BuildSketch(Plane(origin=(0, 35, 0), x_dir=(1, 0, 0), z_dir=(0, 1, 0))):
        with Locations(Location((90.677979292, 87.065420079, 0), (0, 0, 270))):
            Circle(SCHIZZO9_R)
        with Locations(Location((77.242950449, 73.630391237, 0), (0, 0, 270))):
            Circle(SCHIZZO9_R)
        with Locations(Location((90.677979292, -10.351650553, 0), (0, 0, 270))):
            Circle(SCHIZZO9_R)
        with Locations(Location((77.242950449, 3.08337829, 0), (0, 0, 270))):
            Circle(SCHIZZO9_R)
        with Locations(Location((-6.73909134, -10.351650553, 0), (0, 0, 270))):
            Circle(SCHIZZO9_R)
        with Locations(Location((6.695937502, 3.08337829, 0), (0, 0, 270))):
            Circle(SCHIZZO9_R)
        with Locations(Location((-6.73909134, 87.065420079, 0), (0, 0, 270))):
            Circle(SCHIZZO9_R)
        with Locations(Location((6.695937502, 73.630391237, 0), (0, 0, 270))):
            Circle(SCHIZZO9_R)
    extrude(amount=-TAGLIO_ESTRUSIONE6_DEPTH, mode=Mode.SUBTRACT)

    # Schizzo10 → Taglio-Estrusione7 (cut, up to next)
    with BuildSketch(Plane.XZ, mode=Mode.PRIVATE) as taglio_estrusione7_sk1:
        with Locations(Location((71.303253487, -38.356884763, 0), (0, 0, 270))):
            Circle(SCHIZZO10_R)
    taglio_estrusione7_tool1 = extrude(taglio_estrusione7_sk1.sketch, amount=-TAGLIO_ESTRUSIONE7_REACH, mode=Mode.PRIVATE) & part.part
    # Schizzo10 → Taglio-Estrusione7 (cut, up to next)
    with BuildSketch(Plane.XZ, mode=Mode.PRIVATE) as taglio_estrusione7_sk2:
        with Locations(Location((12.635634464, -38.356884763, 0), (0, 0, 270))):
            Circle(SCHIZZO10_R)
    taglio_estrusione7_tool2 = extrude(taglio_estrusione7_sk2.sketch, amount=-TAGLIO_ESTRUSIONE7_REACH, mode=Mode.PRIVATE) & part.part
    # Schizzo10 → Taglio-Estrusione7 (cut, up to next)
    with BuildSketch(Plane.XZ, mode=Mode.PRIVATE) as taglio_estrusione7_sk3:
        with Locations(Location((41.969443976, -67.690694275, 0), (0, 0, 270))):
            Circle(SCHIZZO10_R)
    taglio_estrusione7_tool3 = extrude(taglio_estrusione7_sk3.sketch, amount=-TAGLIO_ESTRUSIONE7_REACH, mode=Mode.PRIVATE) & part.part
    # Schizzo10 → Taglio-Estrusione7 (cut, up to next)
    with BuildSketch(Plane.XZ, mode=Mode.PRIVATE) as taglio_estrusione7_sk4:
        with Locations(Location((41.969443976, -9.023075251, 0), (0, 0, 270))):
            Circle(SCHIZZO10_R)
    taglio_estrusione7_tool4 = extrude(taglio_estrusione7_sk4.sketch, amount=-TAGLIO_ESTRUSIONE7_REACH, mode=Mode.PRIVATE) & part.part
    add(taglio_estrusione7_tool1.solids().sort_by_distance((71.303253, 0, -38.356885))[0], mode=Mode.SUBTRACT)
    add(taglio_estrusione7_tool2.solids().sort_by_distance((12.635634, 0, -38.356885))[0], mode=Mode.SUBTRACT)
    add(taglio_estrusione7_tool3.solids().sort_by_distance((41.969444, 0, -67.690694))[0], mode=Mode.SUBTRACT)
    add(taglio_estrusione7_tool4.solids().sort_by_distance((41.969444, 0, -9.023075))[0], mode=Mode.SUBTRACT)

    # Smusso2
    smusso2_edges = [part.edges().sort_by_distance(p)[0] for p in [
        (71.303253487, 0, -35.106884763),
        (12.635634464, 0, -35.106884763),
        (41.969443976, 0, -64.440694275),
        (41.969443976, 0, -5.773075251),
    ]]
    smusso2_side = [part.faces().sort_by_distance(p)[0] for p in [
        (41.969443976, 0, -38.356884763),
    ]]
    chamfer(smusso2_edges, length=SMUSSO2_SIZE, length2=SMUSSO2_SIZE2, reference=smusso2_side[0])

    # Schizzo11 → Taglio-Estrusione8 (cut)
    with BuildSketch(Plane(origin=(0, 4.9, 0), x_dir=(1, 0, 0), z_dir=(0, 1, 0))):
        with Locations(Location((41.969443976, 9.023075251, 0), (0, 0, 270))):
            Circle(SCHIZZO11_R)
        with Locations(Location((71.303253487, 38.356884763, 0), (0, 0, 270))):
            Circle(SCHIZZO11_R)
        with Locations(Location((12.635634464, 38.356884763, 0), (0, 0, 270))):
            Circle(SCHIZZO11_R)
        with Locations(Location((41.969443976, 67.690694275, 0), (0, 0, 270))):
            Circle(SCHIZZO11_R)
    extrude(amount=-TAGLIO_ESTRUSIONE8_DEPTH, mode=Mode.SUBTRACT)


solid = part.part
